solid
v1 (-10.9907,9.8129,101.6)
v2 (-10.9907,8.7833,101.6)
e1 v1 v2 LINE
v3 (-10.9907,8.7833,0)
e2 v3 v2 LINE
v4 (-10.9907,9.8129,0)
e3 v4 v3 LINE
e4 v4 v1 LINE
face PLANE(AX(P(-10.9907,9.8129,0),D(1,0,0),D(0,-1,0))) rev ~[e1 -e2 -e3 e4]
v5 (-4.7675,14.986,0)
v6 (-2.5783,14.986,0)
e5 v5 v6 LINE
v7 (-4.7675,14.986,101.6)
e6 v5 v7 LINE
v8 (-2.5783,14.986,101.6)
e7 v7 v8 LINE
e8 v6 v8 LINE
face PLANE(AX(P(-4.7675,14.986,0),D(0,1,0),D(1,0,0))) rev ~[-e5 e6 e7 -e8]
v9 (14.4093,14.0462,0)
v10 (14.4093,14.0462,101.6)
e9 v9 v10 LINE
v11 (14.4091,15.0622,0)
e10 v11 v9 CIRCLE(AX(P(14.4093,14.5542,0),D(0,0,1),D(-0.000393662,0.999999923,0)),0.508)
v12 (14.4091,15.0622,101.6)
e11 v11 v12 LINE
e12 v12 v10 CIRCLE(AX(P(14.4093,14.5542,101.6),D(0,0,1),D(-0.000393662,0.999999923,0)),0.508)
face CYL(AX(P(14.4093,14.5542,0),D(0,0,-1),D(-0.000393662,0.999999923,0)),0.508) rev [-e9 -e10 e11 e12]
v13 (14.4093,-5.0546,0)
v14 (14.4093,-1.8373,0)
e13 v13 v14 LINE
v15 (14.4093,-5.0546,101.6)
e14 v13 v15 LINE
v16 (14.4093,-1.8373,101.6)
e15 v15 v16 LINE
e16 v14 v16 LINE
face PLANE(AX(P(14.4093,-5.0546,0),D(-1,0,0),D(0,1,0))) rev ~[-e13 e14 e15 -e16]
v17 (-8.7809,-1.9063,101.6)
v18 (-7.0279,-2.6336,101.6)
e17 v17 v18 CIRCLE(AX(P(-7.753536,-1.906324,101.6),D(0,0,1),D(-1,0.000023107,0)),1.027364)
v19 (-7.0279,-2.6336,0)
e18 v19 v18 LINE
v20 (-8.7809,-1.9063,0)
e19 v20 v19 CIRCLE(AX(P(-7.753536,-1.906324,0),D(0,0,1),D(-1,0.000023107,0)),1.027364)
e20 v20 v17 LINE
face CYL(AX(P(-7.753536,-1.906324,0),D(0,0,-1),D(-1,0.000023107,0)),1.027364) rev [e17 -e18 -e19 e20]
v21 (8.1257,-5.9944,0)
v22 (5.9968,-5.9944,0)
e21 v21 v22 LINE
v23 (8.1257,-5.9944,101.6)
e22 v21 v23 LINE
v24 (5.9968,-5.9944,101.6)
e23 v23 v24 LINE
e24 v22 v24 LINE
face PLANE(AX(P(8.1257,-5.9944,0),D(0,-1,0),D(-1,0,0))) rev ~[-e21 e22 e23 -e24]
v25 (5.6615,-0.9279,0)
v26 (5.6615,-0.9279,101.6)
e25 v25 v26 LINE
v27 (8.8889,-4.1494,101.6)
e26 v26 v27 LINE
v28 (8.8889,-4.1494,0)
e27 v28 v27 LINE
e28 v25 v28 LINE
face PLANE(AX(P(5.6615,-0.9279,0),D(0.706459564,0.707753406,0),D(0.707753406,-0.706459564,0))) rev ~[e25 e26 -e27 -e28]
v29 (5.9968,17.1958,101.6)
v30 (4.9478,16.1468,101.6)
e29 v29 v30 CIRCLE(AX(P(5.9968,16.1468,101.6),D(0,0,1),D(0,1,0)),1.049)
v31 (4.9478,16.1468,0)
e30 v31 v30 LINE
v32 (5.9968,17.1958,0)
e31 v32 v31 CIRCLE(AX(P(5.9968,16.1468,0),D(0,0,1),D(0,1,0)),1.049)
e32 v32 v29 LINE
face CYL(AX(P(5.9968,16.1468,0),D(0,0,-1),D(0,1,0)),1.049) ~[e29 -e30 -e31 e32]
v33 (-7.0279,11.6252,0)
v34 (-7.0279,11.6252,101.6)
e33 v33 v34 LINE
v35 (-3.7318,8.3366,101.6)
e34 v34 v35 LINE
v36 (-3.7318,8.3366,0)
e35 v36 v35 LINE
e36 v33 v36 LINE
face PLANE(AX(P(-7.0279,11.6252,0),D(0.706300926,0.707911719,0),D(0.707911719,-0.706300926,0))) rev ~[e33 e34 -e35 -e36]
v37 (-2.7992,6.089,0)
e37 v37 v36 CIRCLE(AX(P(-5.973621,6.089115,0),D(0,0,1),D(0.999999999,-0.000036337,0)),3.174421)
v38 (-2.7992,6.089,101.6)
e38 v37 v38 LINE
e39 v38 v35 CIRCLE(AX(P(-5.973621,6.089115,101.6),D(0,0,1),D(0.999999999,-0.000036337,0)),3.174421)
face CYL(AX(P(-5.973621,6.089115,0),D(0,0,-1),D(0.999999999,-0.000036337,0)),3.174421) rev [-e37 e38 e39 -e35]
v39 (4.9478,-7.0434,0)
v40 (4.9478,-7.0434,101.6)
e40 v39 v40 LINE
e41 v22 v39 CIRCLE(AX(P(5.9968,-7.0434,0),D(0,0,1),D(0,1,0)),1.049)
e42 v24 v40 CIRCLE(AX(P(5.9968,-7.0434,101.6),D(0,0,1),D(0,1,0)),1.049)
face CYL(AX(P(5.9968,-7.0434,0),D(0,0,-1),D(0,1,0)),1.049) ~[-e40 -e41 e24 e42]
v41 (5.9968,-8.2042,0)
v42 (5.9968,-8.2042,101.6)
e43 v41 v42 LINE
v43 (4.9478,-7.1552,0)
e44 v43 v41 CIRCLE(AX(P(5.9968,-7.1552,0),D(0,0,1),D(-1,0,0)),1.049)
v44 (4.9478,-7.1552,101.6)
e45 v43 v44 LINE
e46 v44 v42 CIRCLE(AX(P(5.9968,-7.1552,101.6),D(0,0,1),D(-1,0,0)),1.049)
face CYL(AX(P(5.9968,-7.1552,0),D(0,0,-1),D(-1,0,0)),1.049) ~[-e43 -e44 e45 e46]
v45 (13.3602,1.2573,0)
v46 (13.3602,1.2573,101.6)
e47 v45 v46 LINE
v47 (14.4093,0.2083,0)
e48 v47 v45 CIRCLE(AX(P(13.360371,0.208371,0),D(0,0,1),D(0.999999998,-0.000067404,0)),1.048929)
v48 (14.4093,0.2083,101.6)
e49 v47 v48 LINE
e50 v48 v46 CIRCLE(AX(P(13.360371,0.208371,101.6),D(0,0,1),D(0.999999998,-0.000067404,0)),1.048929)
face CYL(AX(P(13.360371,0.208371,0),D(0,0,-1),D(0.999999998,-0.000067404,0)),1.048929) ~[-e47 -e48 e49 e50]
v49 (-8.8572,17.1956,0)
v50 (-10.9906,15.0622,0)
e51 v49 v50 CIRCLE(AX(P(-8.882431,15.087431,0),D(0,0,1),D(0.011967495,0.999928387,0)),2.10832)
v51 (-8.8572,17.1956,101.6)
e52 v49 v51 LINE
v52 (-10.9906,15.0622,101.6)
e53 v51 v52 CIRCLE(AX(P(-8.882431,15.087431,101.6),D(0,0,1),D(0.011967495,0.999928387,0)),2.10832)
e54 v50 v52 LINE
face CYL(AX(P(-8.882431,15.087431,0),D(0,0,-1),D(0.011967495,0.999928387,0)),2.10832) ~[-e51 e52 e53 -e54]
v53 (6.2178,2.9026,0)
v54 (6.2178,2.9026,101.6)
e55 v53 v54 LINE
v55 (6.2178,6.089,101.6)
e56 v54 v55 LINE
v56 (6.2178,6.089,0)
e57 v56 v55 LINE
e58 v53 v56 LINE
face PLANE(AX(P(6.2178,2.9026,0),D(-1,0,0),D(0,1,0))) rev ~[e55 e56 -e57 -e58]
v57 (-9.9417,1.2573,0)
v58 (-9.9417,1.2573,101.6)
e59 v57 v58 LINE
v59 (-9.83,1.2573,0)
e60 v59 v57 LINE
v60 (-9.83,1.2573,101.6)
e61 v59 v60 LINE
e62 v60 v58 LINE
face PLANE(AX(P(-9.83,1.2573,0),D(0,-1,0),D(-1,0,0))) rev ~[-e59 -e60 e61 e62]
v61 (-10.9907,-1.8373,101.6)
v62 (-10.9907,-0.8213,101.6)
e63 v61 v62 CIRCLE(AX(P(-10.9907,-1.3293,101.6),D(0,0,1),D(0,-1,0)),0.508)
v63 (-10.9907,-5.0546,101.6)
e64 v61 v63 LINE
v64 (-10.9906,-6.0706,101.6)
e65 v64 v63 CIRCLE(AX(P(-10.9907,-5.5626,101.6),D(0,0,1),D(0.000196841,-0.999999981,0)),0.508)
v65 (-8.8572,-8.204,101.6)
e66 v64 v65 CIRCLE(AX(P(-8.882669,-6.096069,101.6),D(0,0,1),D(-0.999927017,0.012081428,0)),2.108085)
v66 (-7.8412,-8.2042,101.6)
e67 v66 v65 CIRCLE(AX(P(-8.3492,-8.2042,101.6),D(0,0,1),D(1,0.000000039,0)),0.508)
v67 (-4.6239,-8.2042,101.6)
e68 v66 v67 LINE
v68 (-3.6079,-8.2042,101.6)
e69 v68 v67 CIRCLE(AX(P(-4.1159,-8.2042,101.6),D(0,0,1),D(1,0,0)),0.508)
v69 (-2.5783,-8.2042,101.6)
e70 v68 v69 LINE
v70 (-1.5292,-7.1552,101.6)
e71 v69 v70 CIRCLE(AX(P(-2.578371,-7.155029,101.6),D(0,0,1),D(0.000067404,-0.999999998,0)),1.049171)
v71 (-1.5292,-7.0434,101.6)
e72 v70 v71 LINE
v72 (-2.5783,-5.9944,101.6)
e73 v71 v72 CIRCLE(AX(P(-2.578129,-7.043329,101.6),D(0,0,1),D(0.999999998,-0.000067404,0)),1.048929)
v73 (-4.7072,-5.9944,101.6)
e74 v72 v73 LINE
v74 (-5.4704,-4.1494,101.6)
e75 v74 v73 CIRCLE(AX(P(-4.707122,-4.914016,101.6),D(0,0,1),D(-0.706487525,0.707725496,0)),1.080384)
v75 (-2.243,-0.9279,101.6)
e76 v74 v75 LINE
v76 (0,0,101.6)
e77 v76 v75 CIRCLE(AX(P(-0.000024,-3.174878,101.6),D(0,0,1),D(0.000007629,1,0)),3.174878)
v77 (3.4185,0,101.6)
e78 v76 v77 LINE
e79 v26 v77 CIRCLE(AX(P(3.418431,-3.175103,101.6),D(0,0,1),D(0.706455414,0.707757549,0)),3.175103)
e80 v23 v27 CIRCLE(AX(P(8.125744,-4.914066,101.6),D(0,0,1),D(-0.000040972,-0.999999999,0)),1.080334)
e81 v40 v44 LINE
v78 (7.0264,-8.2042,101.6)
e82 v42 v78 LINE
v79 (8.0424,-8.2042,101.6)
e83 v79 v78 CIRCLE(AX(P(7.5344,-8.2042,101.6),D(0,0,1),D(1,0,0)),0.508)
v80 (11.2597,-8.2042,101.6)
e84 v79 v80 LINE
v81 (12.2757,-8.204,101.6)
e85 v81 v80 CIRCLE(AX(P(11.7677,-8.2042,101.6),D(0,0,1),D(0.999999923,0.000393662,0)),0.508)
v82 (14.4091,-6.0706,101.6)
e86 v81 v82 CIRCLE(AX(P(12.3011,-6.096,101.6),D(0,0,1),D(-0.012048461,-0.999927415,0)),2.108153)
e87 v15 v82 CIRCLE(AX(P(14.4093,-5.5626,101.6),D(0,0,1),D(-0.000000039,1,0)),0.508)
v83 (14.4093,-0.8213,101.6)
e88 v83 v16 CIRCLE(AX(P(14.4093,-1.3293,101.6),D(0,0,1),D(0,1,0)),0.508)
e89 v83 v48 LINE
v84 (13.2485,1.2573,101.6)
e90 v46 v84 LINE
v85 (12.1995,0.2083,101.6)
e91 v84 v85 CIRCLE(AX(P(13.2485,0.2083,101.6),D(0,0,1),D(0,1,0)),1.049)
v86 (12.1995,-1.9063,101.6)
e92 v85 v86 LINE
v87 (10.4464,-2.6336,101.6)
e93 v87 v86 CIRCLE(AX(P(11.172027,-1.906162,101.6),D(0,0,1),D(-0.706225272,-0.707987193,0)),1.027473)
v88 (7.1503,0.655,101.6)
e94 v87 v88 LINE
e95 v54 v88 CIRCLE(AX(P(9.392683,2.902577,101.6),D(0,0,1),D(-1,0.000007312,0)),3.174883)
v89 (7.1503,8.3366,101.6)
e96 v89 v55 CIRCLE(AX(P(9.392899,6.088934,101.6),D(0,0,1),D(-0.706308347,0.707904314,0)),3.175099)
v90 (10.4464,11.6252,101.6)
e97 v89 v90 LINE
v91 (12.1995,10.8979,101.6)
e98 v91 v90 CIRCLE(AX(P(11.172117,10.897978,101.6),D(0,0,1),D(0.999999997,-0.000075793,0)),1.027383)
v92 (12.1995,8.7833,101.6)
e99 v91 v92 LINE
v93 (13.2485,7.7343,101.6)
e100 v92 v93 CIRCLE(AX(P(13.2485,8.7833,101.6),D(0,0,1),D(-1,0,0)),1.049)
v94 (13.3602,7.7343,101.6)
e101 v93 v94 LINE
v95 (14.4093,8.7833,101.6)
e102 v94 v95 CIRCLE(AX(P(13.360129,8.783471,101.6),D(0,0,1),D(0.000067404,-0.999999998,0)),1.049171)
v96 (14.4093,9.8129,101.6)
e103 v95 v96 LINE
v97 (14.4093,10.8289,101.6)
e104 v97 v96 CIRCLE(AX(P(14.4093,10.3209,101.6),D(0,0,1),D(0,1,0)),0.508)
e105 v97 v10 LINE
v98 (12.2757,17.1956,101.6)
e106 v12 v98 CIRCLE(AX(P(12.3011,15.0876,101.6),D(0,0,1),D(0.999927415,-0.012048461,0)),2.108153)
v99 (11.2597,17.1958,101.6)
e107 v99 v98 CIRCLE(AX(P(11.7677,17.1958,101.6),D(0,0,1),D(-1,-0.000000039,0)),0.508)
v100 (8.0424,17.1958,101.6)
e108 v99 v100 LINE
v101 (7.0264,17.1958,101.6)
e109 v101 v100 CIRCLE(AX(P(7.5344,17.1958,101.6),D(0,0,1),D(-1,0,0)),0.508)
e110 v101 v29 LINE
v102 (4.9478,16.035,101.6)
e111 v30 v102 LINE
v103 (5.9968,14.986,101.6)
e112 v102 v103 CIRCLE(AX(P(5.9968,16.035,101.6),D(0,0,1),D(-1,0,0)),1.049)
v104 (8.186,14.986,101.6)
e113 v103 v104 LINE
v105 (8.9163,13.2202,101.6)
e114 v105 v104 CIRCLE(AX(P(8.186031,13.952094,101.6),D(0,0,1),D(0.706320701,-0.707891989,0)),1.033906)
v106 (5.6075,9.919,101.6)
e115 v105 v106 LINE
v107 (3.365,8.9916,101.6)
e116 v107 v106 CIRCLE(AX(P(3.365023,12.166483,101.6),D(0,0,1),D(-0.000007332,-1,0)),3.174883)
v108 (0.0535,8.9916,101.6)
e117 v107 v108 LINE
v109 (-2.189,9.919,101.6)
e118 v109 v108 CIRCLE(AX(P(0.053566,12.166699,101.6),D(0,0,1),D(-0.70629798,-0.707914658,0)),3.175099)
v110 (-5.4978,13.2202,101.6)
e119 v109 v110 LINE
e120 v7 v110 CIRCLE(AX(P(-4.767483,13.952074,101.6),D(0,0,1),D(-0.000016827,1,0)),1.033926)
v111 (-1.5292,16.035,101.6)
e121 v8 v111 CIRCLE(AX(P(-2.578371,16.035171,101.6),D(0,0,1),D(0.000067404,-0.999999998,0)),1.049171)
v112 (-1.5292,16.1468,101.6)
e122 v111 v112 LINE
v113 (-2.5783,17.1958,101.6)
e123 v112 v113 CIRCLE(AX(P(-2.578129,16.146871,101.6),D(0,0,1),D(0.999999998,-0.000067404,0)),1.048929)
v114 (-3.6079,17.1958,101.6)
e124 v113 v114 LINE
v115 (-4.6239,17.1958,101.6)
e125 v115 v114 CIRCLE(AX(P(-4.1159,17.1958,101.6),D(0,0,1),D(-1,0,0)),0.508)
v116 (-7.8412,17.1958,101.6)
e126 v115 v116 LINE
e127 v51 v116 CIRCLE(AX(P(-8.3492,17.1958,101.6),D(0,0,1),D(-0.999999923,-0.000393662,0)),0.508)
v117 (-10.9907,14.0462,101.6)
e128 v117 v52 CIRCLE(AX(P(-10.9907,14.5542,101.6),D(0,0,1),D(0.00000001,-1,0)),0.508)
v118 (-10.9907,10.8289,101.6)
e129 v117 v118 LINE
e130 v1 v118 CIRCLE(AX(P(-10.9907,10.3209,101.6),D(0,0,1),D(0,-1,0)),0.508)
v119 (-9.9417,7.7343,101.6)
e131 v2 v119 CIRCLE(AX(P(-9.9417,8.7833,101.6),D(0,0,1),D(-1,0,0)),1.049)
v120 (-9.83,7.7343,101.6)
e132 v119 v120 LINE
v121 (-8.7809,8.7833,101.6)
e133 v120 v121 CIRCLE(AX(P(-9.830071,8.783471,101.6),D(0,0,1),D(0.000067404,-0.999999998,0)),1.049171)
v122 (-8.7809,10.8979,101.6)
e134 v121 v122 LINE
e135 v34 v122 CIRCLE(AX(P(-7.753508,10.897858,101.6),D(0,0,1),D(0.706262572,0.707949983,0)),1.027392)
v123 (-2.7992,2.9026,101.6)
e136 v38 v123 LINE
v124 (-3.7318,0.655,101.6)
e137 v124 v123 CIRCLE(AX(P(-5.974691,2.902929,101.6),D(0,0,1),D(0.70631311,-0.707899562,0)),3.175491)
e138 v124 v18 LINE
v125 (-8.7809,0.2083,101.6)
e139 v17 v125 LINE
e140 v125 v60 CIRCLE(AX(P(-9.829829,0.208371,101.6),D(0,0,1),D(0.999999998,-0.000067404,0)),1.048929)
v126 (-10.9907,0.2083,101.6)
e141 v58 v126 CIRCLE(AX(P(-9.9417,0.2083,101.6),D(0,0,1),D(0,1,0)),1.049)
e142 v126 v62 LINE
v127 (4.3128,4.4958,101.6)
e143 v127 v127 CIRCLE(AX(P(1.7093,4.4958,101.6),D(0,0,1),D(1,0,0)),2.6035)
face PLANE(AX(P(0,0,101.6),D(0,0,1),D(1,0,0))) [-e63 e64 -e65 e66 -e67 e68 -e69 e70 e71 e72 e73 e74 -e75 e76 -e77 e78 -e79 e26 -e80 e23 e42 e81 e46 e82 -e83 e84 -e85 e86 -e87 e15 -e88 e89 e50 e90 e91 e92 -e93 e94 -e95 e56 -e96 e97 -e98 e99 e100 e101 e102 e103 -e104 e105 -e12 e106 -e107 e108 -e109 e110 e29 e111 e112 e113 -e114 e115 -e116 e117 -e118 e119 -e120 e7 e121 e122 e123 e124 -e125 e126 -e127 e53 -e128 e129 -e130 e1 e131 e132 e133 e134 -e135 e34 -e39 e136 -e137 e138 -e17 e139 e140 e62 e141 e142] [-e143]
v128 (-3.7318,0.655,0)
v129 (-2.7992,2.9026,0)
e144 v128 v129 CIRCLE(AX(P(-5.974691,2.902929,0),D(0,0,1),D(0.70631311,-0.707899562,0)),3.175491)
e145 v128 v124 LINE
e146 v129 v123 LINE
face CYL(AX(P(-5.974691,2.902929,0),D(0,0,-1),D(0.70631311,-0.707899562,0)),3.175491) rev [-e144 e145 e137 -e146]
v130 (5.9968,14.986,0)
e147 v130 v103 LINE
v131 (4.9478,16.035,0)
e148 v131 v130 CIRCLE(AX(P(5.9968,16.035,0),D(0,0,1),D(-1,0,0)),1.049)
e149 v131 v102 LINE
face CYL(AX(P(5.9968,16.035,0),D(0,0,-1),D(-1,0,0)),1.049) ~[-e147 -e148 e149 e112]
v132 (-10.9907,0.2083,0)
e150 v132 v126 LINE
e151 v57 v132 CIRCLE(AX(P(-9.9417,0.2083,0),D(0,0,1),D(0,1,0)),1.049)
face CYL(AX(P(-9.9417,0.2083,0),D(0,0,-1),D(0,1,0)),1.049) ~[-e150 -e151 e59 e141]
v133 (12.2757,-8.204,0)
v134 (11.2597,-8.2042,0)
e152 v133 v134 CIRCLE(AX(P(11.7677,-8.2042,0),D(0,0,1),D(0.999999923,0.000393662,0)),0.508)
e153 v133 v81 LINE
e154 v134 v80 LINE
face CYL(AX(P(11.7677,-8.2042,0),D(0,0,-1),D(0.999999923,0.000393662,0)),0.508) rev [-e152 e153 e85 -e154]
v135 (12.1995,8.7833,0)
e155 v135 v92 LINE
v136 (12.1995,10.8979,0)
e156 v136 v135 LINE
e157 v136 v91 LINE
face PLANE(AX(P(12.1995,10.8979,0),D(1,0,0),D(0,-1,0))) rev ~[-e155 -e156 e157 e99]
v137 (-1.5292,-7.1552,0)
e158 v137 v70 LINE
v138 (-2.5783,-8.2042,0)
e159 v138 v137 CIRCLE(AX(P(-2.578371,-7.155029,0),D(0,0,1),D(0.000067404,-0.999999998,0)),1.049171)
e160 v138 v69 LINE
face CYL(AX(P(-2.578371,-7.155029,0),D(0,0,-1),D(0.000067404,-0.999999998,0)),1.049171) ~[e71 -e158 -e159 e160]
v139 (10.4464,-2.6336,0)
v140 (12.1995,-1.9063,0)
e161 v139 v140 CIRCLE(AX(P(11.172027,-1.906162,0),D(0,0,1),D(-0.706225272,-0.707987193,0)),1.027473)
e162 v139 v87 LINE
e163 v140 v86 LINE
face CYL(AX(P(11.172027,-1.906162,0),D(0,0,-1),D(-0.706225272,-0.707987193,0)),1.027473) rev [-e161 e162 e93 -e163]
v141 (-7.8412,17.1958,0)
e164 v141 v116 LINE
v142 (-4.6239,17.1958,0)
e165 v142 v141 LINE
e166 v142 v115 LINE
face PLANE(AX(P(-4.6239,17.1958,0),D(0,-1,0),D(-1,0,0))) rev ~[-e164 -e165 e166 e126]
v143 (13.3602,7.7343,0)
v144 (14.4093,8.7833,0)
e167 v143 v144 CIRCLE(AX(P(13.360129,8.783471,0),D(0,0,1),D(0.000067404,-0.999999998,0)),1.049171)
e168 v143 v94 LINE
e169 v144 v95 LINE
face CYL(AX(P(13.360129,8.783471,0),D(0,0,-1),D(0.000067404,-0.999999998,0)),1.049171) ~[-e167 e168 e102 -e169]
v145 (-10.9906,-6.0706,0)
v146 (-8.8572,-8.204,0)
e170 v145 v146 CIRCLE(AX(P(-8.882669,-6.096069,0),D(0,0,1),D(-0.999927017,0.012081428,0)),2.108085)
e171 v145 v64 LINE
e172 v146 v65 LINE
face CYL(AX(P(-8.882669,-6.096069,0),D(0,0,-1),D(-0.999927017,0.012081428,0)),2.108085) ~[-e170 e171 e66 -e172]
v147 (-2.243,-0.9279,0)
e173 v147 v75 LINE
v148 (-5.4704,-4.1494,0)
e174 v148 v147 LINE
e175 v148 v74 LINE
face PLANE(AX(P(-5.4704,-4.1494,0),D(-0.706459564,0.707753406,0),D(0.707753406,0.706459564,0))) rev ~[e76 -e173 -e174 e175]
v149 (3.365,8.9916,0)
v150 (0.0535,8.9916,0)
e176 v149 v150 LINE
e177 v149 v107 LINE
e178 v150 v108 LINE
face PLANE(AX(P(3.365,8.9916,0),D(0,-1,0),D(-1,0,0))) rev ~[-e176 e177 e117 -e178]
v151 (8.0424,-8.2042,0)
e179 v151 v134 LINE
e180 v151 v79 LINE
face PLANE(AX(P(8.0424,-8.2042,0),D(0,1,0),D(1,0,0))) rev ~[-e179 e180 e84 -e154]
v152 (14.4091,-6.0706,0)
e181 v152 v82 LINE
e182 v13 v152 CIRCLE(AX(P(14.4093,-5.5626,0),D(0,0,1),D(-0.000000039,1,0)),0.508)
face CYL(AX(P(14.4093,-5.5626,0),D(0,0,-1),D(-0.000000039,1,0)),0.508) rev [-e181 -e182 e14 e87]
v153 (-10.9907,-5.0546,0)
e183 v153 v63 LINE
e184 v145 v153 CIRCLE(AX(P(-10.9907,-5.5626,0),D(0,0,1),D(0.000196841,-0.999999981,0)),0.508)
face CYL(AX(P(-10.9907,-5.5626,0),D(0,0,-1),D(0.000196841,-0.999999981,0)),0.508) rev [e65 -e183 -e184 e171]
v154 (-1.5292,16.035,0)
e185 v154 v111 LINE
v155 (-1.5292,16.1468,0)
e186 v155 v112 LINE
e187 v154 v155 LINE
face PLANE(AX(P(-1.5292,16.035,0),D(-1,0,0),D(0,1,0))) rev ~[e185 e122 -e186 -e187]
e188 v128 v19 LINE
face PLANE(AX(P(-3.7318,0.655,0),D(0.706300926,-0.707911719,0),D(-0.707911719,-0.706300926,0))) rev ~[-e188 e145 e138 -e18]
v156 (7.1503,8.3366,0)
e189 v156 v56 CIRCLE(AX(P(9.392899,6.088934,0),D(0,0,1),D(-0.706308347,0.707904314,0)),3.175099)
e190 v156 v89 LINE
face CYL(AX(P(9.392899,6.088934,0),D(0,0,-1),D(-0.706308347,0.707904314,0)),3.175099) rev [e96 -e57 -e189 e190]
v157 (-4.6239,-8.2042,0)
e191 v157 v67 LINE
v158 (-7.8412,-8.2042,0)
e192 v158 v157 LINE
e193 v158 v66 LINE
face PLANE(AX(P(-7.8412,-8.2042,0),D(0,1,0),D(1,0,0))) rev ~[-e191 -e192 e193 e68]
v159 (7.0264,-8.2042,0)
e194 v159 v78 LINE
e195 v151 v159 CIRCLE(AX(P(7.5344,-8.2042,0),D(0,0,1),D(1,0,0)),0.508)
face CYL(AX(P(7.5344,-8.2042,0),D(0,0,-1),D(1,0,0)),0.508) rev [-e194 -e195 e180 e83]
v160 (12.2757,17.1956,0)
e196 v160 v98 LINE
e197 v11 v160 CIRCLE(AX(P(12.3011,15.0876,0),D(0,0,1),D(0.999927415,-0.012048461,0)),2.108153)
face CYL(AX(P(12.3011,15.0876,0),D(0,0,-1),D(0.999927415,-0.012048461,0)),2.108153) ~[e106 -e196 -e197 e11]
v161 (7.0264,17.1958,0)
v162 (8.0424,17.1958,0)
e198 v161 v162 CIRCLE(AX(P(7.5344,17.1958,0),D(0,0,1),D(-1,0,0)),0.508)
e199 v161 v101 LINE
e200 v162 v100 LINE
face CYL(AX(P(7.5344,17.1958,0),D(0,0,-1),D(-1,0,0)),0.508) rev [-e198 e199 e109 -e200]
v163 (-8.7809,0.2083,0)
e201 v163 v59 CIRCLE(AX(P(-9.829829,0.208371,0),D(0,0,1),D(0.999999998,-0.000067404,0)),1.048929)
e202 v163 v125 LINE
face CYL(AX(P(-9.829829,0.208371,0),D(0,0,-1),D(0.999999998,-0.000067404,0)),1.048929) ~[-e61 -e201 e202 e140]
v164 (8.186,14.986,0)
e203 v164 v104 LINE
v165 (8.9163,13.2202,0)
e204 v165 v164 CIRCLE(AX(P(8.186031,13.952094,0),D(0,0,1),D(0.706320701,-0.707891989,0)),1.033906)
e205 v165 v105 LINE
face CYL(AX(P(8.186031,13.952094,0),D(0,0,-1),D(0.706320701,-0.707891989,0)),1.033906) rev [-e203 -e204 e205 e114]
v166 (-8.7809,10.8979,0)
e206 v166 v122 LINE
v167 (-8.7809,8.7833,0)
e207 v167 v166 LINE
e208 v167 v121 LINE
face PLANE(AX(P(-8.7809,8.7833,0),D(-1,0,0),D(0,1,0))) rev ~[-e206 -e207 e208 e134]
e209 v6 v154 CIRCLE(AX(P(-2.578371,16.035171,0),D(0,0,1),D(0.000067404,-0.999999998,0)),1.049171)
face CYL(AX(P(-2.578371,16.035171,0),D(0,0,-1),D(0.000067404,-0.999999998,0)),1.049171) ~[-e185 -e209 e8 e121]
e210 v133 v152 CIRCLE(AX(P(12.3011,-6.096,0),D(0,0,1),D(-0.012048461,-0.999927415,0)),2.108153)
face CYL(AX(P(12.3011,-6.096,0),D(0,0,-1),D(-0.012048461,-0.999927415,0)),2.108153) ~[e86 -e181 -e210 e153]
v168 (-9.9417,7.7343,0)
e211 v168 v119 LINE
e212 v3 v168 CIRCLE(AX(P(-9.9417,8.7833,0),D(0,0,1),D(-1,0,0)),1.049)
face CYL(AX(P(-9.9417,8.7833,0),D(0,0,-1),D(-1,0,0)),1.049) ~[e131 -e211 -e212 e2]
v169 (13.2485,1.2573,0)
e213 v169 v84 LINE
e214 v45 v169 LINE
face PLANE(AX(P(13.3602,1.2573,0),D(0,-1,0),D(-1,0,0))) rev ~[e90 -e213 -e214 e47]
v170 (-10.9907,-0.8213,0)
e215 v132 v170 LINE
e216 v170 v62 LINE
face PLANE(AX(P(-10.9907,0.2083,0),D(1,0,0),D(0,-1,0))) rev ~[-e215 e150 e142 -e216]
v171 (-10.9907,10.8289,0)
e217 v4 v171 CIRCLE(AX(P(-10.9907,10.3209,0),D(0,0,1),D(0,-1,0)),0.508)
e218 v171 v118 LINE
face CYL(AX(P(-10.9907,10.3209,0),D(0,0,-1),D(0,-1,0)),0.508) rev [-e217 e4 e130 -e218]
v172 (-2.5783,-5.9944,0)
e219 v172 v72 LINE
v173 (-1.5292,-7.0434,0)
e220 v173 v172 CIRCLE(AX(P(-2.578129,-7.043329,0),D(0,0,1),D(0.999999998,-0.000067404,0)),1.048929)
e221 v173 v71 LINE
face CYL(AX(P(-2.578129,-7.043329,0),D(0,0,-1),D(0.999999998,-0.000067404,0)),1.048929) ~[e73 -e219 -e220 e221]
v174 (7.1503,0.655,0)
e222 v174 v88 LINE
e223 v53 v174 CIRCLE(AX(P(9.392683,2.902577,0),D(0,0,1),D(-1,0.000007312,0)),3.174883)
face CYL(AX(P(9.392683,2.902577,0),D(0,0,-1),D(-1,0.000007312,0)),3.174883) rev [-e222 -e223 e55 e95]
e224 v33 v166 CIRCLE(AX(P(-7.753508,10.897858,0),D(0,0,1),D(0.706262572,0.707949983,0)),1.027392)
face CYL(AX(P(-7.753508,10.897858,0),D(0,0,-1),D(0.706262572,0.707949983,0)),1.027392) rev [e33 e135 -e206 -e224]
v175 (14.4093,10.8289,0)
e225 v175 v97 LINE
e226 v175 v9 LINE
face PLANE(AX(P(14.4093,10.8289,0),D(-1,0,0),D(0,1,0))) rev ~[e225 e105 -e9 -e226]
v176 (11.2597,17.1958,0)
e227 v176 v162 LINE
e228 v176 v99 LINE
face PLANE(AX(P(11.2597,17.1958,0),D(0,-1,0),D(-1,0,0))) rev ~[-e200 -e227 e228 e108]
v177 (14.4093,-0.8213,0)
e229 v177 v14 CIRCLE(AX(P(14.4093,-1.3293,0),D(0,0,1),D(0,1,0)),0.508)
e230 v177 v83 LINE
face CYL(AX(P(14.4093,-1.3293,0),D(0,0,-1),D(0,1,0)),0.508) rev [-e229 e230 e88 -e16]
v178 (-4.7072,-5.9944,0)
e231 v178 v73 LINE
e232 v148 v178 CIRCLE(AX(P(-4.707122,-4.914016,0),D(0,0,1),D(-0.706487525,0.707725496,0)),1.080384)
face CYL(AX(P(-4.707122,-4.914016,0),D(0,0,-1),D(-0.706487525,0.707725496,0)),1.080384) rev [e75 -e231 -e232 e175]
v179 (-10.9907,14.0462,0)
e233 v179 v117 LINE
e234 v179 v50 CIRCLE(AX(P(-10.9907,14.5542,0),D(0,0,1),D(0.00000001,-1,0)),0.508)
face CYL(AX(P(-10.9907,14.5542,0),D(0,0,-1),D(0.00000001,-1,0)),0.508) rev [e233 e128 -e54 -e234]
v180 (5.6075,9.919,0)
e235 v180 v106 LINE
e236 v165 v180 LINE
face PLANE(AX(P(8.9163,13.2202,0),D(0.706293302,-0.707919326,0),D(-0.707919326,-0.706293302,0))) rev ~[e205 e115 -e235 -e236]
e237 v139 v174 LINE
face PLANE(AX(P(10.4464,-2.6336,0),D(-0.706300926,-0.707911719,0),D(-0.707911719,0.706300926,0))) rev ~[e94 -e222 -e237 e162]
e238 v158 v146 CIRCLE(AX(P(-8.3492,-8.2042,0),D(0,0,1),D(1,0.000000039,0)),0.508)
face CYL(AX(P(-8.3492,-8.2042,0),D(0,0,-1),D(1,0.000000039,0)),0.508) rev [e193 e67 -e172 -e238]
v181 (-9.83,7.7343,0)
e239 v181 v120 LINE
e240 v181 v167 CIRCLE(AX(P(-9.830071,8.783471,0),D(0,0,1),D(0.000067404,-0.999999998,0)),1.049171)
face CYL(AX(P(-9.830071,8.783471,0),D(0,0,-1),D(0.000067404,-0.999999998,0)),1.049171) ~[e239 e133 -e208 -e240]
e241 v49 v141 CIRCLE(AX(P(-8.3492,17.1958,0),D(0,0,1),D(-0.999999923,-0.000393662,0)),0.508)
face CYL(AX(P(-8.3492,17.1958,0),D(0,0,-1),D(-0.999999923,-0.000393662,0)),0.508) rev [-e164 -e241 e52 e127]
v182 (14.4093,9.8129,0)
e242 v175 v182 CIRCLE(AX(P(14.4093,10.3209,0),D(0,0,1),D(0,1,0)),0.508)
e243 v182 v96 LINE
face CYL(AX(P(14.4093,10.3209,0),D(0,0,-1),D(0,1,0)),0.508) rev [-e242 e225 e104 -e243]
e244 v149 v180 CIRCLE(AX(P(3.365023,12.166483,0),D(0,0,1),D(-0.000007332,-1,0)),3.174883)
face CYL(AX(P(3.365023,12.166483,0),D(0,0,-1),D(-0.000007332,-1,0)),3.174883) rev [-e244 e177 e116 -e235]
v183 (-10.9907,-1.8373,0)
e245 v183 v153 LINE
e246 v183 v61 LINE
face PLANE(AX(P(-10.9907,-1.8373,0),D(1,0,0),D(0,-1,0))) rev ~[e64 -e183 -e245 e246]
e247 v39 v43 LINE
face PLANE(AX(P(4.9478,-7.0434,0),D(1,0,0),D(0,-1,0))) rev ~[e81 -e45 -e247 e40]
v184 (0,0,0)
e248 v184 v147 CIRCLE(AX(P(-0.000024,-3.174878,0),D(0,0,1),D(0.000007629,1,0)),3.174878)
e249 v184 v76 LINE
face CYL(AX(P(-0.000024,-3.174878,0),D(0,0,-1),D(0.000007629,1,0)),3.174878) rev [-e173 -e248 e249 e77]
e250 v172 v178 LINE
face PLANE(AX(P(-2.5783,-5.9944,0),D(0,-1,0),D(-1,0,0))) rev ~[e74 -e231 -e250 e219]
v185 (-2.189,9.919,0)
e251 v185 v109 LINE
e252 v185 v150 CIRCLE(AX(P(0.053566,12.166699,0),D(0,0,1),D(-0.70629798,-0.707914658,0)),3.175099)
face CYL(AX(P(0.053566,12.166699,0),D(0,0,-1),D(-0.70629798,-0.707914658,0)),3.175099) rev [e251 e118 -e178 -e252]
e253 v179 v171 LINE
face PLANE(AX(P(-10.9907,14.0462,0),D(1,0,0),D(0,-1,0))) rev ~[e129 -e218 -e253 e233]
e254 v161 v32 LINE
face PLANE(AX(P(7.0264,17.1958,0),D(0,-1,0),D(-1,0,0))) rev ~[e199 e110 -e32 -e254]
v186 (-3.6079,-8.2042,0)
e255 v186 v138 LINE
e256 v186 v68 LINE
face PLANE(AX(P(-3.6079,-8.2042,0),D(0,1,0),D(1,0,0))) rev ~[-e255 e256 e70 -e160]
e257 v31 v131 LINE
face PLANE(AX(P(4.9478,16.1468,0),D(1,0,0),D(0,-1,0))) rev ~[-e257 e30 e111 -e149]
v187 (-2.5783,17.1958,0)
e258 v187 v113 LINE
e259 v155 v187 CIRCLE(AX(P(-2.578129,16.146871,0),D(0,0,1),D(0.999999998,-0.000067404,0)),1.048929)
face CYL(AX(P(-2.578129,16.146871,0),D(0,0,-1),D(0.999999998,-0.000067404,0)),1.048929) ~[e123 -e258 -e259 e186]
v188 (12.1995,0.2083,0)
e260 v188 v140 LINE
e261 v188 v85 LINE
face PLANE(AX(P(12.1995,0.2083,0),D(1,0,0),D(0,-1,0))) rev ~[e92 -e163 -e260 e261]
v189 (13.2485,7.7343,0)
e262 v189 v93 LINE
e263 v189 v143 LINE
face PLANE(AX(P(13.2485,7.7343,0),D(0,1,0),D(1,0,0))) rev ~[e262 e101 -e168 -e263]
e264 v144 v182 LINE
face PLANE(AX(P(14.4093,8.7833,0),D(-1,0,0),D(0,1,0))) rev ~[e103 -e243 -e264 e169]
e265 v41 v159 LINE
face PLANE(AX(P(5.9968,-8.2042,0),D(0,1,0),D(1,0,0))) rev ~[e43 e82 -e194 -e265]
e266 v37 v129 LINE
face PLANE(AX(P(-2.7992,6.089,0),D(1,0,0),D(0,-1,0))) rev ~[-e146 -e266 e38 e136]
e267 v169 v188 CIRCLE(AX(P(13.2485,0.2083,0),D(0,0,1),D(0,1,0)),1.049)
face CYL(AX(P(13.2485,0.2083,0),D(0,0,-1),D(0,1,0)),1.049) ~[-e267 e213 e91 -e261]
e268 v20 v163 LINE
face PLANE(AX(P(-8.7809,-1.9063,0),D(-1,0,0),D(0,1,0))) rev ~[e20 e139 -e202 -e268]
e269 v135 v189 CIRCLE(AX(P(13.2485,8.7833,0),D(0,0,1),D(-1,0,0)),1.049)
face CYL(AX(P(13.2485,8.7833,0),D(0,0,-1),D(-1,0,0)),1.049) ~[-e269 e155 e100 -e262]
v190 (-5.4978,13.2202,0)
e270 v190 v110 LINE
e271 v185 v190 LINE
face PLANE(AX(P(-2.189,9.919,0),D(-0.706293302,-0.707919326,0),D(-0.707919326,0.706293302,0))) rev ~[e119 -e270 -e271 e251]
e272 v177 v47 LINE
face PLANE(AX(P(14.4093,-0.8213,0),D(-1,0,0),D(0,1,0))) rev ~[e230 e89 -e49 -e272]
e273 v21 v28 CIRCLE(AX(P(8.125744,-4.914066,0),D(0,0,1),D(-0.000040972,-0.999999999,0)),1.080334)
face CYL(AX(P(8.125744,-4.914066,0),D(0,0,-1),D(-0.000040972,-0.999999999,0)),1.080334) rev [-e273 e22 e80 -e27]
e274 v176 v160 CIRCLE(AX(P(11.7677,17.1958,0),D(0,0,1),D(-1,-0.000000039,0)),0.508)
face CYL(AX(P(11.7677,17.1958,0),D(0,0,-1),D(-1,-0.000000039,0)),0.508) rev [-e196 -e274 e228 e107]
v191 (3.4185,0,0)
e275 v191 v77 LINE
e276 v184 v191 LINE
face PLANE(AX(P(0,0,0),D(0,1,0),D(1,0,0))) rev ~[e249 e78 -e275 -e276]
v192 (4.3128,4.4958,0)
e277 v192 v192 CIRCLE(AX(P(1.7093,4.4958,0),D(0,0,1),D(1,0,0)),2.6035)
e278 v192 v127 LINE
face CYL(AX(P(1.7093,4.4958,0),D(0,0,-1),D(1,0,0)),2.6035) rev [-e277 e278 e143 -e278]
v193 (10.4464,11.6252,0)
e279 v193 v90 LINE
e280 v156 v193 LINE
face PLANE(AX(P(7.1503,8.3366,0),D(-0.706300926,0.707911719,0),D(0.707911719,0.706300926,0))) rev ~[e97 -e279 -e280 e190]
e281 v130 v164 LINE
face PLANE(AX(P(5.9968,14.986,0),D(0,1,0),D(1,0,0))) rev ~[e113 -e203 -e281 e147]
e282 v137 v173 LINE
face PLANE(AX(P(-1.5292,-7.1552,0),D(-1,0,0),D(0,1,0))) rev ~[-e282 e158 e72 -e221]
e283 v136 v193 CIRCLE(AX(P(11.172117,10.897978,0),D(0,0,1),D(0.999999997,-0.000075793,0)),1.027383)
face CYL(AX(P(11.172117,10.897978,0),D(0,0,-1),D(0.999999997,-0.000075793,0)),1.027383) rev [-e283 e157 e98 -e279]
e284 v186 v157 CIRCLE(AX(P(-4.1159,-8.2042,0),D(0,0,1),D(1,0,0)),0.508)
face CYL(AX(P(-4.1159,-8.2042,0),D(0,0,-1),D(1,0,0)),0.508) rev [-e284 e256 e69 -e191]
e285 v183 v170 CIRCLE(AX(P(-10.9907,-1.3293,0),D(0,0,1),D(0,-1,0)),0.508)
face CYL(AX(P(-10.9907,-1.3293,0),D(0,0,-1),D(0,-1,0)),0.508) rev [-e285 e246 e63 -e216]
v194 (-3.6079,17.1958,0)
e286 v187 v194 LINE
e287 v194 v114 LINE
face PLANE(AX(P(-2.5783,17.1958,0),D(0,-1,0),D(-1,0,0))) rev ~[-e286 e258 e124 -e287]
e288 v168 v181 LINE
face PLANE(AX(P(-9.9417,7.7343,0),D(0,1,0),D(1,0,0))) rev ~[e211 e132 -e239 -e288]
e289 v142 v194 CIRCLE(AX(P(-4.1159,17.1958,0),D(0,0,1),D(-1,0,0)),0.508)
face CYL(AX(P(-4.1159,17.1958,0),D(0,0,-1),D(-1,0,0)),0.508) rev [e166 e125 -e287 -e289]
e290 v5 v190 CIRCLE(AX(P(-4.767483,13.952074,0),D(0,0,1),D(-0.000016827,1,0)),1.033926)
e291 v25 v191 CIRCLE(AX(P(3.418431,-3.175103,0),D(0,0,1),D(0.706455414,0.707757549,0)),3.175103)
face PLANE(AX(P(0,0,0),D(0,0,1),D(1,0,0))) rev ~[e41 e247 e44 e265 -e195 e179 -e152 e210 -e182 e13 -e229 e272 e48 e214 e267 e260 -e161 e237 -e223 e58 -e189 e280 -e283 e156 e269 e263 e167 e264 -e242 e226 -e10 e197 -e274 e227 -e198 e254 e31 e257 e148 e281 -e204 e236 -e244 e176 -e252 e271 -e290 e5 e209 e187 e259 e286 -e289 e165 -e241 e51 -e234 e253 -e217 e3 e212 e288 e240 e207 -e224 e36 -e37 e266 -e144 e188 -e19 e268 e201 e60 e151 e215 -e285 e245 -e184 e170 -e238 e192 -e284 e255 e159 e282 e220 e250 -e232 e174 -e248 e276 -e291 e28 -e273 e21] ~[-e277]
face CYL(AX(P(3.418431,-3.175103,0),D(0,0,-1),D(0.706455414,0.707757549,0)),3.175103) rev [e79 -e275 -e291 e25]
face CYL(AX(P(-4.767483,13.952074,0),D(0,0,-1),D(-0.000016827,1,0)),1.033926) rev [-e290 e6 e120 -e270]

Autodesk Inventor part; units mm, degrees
ref_plane "YZ Plane" through (0, 0, 0) normal (1, 0, 0) x (0, 1, 0)
ref_plane "XZ Plane" through (0, 0, 0) normal (0, 1, 0) x (-1, 0, 0)
ref_plane "XY Plane" through (0, 0, 0) normal (0, 0, 1) x (1, 0, 0)
sketch "Sketch1" plane through (0, 0, 0) normal (0, 0, 1) x (1, 0, 0)
  arc A0 (-5.4704, -4.1494) -> (-4.7072, -5.9944) centre (-4.7072, -4.914) ccw
  line L0 (-5.4704, -4.1494) -> (-2.243, -0.9279)
  arc A1 (0, 0) -> (-2.243, -0.9279) centre (0, -3.175) ccw
  line L1 (0, 0) -> (3.4185, 0)
  arc A2 (5.6615, -0.9279) -> (3.4185, 0) centre (3.4185, -3.175) ccw
  line L2 (5.6615, -0.9279) -> (8.8889, -4.1494)
  arc A3 (8.1257, -5.9944) -> (8.8889, -4.1494) centre (8.1257, -4.914) ccw
  line L3 (8.1257, -5.9944) -> (5.9968, -5.9944)
  arc A4 (5.9968, -5.9944) -> (4.9478, -7.0434) centre (5.9968, -7.0434) ccw
  line L4 (4.9478, -7.0434) -> (4.9478, -7.1552)
  arc A5 (4.9478, -7.1552) -> (5.9968, -8.2042) centre (5.9968, -7.1552) ccw
  line L5 (5.9968, -8.2042) -> (7.0264, -8.2042)
  arc A6 (8.0424, -8.2042) -> (7.0264, -8.2042) centre (7.5344, -8.2042) ccw
  line L6 (8.0424, -8.2042) -> (11.2597, -8.2042)
  arc A7 (12.2757, -8.204) -> (11.2597, -8.2042) centre (11.7677, -8.2042) ccw
  arc A8 (12.2757, -8.204) -> (14.4091, -6.0706) centre (12.3011, -6.096) ccw
  arc A9 (14.4093, -5.0546) -> (14.4091, -6.0706) centre (14.4093, -5.5626) ccw
  line L7 (14.4093, -5.0546) -> (14.4093, -1.8373)
  arc A10 (14.4093, -0.8213) -> (14.4093, -1.8373) centre (14.4093, -1.3293) ccw
  line L8 (14.4093, -0.8213) -> (14.4093, 0.2083)
  arc A11 (14.4093, 0.2083) -> (13.3602, 1.2573) centre (13.3602, 0.2083) ccw
  line L9 (13.3602, 1.2573) -> (13.2485, 1.2573)
  arc A12 (13.2485, 1.2573) -> (12.1995, 0.2083) centre (13.2485, 0.2083) ccw
  line L10 (12.1995, 0.2083) -> (12.1995, -1.9063)
  arc A13 (10.4464, -2.6336) -> (12.1995, -1.9063) centre (11.172, -1.9063) ccw
  line L11 (10.4464, -2.6336) -> (7.1503, 0.655)
  arc A14 (6.2178, 2.9026) -> (7.1503, 0.655) centre (9.3928, 2.9026) ccw
  line L12 (6.2178, 2.9026) -> (6.2178, 6.089)
  arc A15 (7.1503, 8.3366) -> (6.2178, 6.089) centre (9.3928, 6.089) ccw
  line L13 (7.1503, 8.3366) -> (10.4464, 11.6252)
  arc A16 (12.1995, 10.8979) -> (10.4464, 11.6252) centre (11.172, 10.8979) ccw
  line L14 (12.1995, 10.8979) -> (12.1995, 8.7833)
  arc A17 (12.1995, 8.7833) -> (13.2485, 7.7343) centre (13.2485, 8.7833) ccw
  line L15 (13.2485, 7.7343) -> (13.3602, 7.7343)
  arc A18 (13.3602, 7.7343) -> (14.4093, 8.7833) centre (13.3602, 8.7833) ccw
  line L16 (14.4093, 8.7833) -> (14.4093, 9.8129)
  arc A19 (14.4093, 10.8289) -> (14.4093, 9.8129) centre (14.4093, 10.3209) ccw
  line L17 (14.4093, 10.8289) -> (14.4093, 14.0462)
  arc A20 (14.4091, 15.0622) -> (14.4093, 14.0462) centre (14.4093, 14.5542) ccw
  arc A21 (14.4091, 15.0622) -> (12.2757, 17.1956) centre (12.3011, 15.0876) ccw
  arc A22 (11.2597, 17.1958) -> (12.2757, 17.1956) centre (11.7677, 17.1958) ccw
  line L18 (11.2597, 17.1958) -> (8.0424, 17.1958)
  arc A23 (7.0264, 17.1958) -> (8.0424, 17.1958) centre (7.5344, 17.1958) ccw
  line L19 (7.0264, 17.1958) -> (5.9968, 17.1958)
  arc A24 (5.9968, 17.1958) -> (4.9478, 16.1468) centre (5.9968, 16.1468) ccw
  line L20 (4.9478, 16.1468) -> (4.9478, 16.035)
  arc A25 (4.9478, 16.035) -> (5.9968, 14.986) centre (5.9968, 16.035) ccw
  line L21 (5.9968, 14.986) -> (8.186, 14.986)
  arc A26 (8.9163, 13.2202) -> (8.186, 14.986) centre (8.186, 13.9521) ccw
  line L22 (8.9163, 13.2202) -> (5.6075, 9.919)
  arc A27 (3.365, 8.9916) -> (5.6075, 9.919) centre (3.365, 12.1666) ccw
  line L23 (3.365, 8.9916) -> (0.0535, 8.9916)
  arc A28 (-2.189, 9.919) -> (0.0535, 8.9916) centre (0.0535, 12.1666) ccw
  line L24 (-2.189, 9.919) -> (-5.4978, 13.2202)
  arc A29 (-4.7675, 14.986) -> (-5.4978, 13.2202) centre (-4.7675, 13.9521) ccw
  line L25 (-4.7675, 14.986) -> (-2.5783, 14.986)
  arc A30 (-2.5783, 14.986) -> (-1.5292, 16.035) centre (-2.5783, 16.035) ccw
  line L26 (-1.5292, 16.035) -> (-1.5292, 16.1468)
  arc A31 (-1.5292, 16.1468) -> (-2.5783, 17.1958) centre (-2.5783, 16.1468) ccw
  line L27 (-2.5783, 17.1958) -> (-3.6079, 17.1958)
  arc A32 (-4.6239, 17.1958) -> (-3.6079, 17.1958) centre (-4.1159, 17.1958) ccw
  line L28 (-4.6239, 17.1958) -> (-7.8412, 17.1958)
  arc A33 (-8.8572, 17.1956) -> (-7.8412, 17.1958) centre (-8.3492, 17.1958) ccw
  arc A34 (-8.8572, 17.1956) -> (-10.9906, 15.0622) centre (-8.8825, 15.0876) ccw
  arc A35 (-10.9907, 14.0462) -> (-10.9906, 15.0622) centre (-10.9907, 14.5542) ccw
  line L29 (-10.9907, 14.0462) -> (-10.9907, 10.8289)
  arc A36 (-10.9907, 9.8129) -> (-10.9907, 10.8289) centre (-10.9907, 10.3209) ccw
  line L30 (-10.9907, 9.8129) -> (-10.9907, 8.7833)
  arc A37 (-10.9907, 8.7833) -> (-9.9417, 7.7343) centre (-9.9417, 8.7833) ccw
  line L31 (-9.9417, 7.7343) -> (-9.83, 7.7343)
  arc A38 (-9.83, 7.7343) -> (-8.7809, 8.7833) centre (-9.83, 8.7833) ccw
  line L32 (-8.7809, 8.7833) -> (-8.7809, 10.8979)
  arc A39 (-7.0279, 11.6252) -> (-8.7809, 10.8979) centre (-7.7535, 10.8979) ccw
  line L33 (-7.0279, 11.6252) -> (-3.7318, 8.3366)
  arc A40 (-2.7992, 6.089) -> (-3.7318, 8.3366) centre (-5.9742, 6.089) ccw
  line L34 (-2.7992, 6.089) -> (-2.7992, 2.9026)
  arc A41 (-3.7318, 0.655) -> (-2.7992, 2.9026) centre (-5.9742, 2.9026) ccw
  line L35 (-3.7318, 0.655) -> (-7.0279, -2.6336)
  arc A42 (-8.7809, -1.9063) -> (-7.0279, -2.6336) centre (-7.7535, -1.9063) ccw
  line L36 (-8.7809, -1.9063) -> (-8.7809, 0.2083)
  arc A43 (-8.7809, 0.2083) -> (-9.83, 1.2573) centre (-9.83, 0.2083) ccw
  line L37 (-9.83, 1.2573) -> (-9.9417, 1.2573)
  arc A44 (-9.9417, 1.2573) -> (-10.9907, 0.2083) centre (-9.9417, 0.2083) ccw
  line L38 (-10.9907, 0.2083) -> (-10.9907, -0.8213)
  arc A45 (-10.9907, -1.8373) -> (-10.9907, -0.8213) centre (-10.9907, -1.3293) ccw
  line L39 (-10.9907, -1.8373) -> (-10.9907, -5.0546)
  arc A46 (-10.9906, -6.0706) -> (-10.9907, -5.0546) centre (-10.9907, -5.5626) ccw
  arc A47 (-10.9906, -6.0706) -> (-8.8572, -8.204) centre (-8.8825, -6.096) ccw
  arc A48 (-7.8412, -8.2042) -> (-8.8572, -8.204) centre (-8.3492, -8.2042) ccw
  line L40 (-7.8412, -8.2042) -> (-4.6239, -8.2042)
  arc A49 (-3.6079, -8.2042) -> (-4.6239, -8.2042) centre (-4.1159, -8.2042) ccw
  line L41 (-3.6079, -8.2042) -> (-2.5783, -8.2042)
  arc A50 (-2.5783, -8.2042) -> (-1.5292, -7.1552) centre (-2.5783, -7.1552) ccw
  line L42 (-1.5292, -7.1552) -> (-1.5292, -7.0434)
  arc A51 (-1.5292, -7.0434) -> (-2.5783, -5.9944) centre (-2.5783, -7.0434) ccw
  line L43 (-2.5783, -5.9944) -> (-4.7072, -5.9944)
  circle A52 centre (1.7093, 4.4958) radius 2.6035
extrude "Extrusion1" add sketch "Sketch1" along normal blind 101.6
properties part number "4in 1x1 T slot"
